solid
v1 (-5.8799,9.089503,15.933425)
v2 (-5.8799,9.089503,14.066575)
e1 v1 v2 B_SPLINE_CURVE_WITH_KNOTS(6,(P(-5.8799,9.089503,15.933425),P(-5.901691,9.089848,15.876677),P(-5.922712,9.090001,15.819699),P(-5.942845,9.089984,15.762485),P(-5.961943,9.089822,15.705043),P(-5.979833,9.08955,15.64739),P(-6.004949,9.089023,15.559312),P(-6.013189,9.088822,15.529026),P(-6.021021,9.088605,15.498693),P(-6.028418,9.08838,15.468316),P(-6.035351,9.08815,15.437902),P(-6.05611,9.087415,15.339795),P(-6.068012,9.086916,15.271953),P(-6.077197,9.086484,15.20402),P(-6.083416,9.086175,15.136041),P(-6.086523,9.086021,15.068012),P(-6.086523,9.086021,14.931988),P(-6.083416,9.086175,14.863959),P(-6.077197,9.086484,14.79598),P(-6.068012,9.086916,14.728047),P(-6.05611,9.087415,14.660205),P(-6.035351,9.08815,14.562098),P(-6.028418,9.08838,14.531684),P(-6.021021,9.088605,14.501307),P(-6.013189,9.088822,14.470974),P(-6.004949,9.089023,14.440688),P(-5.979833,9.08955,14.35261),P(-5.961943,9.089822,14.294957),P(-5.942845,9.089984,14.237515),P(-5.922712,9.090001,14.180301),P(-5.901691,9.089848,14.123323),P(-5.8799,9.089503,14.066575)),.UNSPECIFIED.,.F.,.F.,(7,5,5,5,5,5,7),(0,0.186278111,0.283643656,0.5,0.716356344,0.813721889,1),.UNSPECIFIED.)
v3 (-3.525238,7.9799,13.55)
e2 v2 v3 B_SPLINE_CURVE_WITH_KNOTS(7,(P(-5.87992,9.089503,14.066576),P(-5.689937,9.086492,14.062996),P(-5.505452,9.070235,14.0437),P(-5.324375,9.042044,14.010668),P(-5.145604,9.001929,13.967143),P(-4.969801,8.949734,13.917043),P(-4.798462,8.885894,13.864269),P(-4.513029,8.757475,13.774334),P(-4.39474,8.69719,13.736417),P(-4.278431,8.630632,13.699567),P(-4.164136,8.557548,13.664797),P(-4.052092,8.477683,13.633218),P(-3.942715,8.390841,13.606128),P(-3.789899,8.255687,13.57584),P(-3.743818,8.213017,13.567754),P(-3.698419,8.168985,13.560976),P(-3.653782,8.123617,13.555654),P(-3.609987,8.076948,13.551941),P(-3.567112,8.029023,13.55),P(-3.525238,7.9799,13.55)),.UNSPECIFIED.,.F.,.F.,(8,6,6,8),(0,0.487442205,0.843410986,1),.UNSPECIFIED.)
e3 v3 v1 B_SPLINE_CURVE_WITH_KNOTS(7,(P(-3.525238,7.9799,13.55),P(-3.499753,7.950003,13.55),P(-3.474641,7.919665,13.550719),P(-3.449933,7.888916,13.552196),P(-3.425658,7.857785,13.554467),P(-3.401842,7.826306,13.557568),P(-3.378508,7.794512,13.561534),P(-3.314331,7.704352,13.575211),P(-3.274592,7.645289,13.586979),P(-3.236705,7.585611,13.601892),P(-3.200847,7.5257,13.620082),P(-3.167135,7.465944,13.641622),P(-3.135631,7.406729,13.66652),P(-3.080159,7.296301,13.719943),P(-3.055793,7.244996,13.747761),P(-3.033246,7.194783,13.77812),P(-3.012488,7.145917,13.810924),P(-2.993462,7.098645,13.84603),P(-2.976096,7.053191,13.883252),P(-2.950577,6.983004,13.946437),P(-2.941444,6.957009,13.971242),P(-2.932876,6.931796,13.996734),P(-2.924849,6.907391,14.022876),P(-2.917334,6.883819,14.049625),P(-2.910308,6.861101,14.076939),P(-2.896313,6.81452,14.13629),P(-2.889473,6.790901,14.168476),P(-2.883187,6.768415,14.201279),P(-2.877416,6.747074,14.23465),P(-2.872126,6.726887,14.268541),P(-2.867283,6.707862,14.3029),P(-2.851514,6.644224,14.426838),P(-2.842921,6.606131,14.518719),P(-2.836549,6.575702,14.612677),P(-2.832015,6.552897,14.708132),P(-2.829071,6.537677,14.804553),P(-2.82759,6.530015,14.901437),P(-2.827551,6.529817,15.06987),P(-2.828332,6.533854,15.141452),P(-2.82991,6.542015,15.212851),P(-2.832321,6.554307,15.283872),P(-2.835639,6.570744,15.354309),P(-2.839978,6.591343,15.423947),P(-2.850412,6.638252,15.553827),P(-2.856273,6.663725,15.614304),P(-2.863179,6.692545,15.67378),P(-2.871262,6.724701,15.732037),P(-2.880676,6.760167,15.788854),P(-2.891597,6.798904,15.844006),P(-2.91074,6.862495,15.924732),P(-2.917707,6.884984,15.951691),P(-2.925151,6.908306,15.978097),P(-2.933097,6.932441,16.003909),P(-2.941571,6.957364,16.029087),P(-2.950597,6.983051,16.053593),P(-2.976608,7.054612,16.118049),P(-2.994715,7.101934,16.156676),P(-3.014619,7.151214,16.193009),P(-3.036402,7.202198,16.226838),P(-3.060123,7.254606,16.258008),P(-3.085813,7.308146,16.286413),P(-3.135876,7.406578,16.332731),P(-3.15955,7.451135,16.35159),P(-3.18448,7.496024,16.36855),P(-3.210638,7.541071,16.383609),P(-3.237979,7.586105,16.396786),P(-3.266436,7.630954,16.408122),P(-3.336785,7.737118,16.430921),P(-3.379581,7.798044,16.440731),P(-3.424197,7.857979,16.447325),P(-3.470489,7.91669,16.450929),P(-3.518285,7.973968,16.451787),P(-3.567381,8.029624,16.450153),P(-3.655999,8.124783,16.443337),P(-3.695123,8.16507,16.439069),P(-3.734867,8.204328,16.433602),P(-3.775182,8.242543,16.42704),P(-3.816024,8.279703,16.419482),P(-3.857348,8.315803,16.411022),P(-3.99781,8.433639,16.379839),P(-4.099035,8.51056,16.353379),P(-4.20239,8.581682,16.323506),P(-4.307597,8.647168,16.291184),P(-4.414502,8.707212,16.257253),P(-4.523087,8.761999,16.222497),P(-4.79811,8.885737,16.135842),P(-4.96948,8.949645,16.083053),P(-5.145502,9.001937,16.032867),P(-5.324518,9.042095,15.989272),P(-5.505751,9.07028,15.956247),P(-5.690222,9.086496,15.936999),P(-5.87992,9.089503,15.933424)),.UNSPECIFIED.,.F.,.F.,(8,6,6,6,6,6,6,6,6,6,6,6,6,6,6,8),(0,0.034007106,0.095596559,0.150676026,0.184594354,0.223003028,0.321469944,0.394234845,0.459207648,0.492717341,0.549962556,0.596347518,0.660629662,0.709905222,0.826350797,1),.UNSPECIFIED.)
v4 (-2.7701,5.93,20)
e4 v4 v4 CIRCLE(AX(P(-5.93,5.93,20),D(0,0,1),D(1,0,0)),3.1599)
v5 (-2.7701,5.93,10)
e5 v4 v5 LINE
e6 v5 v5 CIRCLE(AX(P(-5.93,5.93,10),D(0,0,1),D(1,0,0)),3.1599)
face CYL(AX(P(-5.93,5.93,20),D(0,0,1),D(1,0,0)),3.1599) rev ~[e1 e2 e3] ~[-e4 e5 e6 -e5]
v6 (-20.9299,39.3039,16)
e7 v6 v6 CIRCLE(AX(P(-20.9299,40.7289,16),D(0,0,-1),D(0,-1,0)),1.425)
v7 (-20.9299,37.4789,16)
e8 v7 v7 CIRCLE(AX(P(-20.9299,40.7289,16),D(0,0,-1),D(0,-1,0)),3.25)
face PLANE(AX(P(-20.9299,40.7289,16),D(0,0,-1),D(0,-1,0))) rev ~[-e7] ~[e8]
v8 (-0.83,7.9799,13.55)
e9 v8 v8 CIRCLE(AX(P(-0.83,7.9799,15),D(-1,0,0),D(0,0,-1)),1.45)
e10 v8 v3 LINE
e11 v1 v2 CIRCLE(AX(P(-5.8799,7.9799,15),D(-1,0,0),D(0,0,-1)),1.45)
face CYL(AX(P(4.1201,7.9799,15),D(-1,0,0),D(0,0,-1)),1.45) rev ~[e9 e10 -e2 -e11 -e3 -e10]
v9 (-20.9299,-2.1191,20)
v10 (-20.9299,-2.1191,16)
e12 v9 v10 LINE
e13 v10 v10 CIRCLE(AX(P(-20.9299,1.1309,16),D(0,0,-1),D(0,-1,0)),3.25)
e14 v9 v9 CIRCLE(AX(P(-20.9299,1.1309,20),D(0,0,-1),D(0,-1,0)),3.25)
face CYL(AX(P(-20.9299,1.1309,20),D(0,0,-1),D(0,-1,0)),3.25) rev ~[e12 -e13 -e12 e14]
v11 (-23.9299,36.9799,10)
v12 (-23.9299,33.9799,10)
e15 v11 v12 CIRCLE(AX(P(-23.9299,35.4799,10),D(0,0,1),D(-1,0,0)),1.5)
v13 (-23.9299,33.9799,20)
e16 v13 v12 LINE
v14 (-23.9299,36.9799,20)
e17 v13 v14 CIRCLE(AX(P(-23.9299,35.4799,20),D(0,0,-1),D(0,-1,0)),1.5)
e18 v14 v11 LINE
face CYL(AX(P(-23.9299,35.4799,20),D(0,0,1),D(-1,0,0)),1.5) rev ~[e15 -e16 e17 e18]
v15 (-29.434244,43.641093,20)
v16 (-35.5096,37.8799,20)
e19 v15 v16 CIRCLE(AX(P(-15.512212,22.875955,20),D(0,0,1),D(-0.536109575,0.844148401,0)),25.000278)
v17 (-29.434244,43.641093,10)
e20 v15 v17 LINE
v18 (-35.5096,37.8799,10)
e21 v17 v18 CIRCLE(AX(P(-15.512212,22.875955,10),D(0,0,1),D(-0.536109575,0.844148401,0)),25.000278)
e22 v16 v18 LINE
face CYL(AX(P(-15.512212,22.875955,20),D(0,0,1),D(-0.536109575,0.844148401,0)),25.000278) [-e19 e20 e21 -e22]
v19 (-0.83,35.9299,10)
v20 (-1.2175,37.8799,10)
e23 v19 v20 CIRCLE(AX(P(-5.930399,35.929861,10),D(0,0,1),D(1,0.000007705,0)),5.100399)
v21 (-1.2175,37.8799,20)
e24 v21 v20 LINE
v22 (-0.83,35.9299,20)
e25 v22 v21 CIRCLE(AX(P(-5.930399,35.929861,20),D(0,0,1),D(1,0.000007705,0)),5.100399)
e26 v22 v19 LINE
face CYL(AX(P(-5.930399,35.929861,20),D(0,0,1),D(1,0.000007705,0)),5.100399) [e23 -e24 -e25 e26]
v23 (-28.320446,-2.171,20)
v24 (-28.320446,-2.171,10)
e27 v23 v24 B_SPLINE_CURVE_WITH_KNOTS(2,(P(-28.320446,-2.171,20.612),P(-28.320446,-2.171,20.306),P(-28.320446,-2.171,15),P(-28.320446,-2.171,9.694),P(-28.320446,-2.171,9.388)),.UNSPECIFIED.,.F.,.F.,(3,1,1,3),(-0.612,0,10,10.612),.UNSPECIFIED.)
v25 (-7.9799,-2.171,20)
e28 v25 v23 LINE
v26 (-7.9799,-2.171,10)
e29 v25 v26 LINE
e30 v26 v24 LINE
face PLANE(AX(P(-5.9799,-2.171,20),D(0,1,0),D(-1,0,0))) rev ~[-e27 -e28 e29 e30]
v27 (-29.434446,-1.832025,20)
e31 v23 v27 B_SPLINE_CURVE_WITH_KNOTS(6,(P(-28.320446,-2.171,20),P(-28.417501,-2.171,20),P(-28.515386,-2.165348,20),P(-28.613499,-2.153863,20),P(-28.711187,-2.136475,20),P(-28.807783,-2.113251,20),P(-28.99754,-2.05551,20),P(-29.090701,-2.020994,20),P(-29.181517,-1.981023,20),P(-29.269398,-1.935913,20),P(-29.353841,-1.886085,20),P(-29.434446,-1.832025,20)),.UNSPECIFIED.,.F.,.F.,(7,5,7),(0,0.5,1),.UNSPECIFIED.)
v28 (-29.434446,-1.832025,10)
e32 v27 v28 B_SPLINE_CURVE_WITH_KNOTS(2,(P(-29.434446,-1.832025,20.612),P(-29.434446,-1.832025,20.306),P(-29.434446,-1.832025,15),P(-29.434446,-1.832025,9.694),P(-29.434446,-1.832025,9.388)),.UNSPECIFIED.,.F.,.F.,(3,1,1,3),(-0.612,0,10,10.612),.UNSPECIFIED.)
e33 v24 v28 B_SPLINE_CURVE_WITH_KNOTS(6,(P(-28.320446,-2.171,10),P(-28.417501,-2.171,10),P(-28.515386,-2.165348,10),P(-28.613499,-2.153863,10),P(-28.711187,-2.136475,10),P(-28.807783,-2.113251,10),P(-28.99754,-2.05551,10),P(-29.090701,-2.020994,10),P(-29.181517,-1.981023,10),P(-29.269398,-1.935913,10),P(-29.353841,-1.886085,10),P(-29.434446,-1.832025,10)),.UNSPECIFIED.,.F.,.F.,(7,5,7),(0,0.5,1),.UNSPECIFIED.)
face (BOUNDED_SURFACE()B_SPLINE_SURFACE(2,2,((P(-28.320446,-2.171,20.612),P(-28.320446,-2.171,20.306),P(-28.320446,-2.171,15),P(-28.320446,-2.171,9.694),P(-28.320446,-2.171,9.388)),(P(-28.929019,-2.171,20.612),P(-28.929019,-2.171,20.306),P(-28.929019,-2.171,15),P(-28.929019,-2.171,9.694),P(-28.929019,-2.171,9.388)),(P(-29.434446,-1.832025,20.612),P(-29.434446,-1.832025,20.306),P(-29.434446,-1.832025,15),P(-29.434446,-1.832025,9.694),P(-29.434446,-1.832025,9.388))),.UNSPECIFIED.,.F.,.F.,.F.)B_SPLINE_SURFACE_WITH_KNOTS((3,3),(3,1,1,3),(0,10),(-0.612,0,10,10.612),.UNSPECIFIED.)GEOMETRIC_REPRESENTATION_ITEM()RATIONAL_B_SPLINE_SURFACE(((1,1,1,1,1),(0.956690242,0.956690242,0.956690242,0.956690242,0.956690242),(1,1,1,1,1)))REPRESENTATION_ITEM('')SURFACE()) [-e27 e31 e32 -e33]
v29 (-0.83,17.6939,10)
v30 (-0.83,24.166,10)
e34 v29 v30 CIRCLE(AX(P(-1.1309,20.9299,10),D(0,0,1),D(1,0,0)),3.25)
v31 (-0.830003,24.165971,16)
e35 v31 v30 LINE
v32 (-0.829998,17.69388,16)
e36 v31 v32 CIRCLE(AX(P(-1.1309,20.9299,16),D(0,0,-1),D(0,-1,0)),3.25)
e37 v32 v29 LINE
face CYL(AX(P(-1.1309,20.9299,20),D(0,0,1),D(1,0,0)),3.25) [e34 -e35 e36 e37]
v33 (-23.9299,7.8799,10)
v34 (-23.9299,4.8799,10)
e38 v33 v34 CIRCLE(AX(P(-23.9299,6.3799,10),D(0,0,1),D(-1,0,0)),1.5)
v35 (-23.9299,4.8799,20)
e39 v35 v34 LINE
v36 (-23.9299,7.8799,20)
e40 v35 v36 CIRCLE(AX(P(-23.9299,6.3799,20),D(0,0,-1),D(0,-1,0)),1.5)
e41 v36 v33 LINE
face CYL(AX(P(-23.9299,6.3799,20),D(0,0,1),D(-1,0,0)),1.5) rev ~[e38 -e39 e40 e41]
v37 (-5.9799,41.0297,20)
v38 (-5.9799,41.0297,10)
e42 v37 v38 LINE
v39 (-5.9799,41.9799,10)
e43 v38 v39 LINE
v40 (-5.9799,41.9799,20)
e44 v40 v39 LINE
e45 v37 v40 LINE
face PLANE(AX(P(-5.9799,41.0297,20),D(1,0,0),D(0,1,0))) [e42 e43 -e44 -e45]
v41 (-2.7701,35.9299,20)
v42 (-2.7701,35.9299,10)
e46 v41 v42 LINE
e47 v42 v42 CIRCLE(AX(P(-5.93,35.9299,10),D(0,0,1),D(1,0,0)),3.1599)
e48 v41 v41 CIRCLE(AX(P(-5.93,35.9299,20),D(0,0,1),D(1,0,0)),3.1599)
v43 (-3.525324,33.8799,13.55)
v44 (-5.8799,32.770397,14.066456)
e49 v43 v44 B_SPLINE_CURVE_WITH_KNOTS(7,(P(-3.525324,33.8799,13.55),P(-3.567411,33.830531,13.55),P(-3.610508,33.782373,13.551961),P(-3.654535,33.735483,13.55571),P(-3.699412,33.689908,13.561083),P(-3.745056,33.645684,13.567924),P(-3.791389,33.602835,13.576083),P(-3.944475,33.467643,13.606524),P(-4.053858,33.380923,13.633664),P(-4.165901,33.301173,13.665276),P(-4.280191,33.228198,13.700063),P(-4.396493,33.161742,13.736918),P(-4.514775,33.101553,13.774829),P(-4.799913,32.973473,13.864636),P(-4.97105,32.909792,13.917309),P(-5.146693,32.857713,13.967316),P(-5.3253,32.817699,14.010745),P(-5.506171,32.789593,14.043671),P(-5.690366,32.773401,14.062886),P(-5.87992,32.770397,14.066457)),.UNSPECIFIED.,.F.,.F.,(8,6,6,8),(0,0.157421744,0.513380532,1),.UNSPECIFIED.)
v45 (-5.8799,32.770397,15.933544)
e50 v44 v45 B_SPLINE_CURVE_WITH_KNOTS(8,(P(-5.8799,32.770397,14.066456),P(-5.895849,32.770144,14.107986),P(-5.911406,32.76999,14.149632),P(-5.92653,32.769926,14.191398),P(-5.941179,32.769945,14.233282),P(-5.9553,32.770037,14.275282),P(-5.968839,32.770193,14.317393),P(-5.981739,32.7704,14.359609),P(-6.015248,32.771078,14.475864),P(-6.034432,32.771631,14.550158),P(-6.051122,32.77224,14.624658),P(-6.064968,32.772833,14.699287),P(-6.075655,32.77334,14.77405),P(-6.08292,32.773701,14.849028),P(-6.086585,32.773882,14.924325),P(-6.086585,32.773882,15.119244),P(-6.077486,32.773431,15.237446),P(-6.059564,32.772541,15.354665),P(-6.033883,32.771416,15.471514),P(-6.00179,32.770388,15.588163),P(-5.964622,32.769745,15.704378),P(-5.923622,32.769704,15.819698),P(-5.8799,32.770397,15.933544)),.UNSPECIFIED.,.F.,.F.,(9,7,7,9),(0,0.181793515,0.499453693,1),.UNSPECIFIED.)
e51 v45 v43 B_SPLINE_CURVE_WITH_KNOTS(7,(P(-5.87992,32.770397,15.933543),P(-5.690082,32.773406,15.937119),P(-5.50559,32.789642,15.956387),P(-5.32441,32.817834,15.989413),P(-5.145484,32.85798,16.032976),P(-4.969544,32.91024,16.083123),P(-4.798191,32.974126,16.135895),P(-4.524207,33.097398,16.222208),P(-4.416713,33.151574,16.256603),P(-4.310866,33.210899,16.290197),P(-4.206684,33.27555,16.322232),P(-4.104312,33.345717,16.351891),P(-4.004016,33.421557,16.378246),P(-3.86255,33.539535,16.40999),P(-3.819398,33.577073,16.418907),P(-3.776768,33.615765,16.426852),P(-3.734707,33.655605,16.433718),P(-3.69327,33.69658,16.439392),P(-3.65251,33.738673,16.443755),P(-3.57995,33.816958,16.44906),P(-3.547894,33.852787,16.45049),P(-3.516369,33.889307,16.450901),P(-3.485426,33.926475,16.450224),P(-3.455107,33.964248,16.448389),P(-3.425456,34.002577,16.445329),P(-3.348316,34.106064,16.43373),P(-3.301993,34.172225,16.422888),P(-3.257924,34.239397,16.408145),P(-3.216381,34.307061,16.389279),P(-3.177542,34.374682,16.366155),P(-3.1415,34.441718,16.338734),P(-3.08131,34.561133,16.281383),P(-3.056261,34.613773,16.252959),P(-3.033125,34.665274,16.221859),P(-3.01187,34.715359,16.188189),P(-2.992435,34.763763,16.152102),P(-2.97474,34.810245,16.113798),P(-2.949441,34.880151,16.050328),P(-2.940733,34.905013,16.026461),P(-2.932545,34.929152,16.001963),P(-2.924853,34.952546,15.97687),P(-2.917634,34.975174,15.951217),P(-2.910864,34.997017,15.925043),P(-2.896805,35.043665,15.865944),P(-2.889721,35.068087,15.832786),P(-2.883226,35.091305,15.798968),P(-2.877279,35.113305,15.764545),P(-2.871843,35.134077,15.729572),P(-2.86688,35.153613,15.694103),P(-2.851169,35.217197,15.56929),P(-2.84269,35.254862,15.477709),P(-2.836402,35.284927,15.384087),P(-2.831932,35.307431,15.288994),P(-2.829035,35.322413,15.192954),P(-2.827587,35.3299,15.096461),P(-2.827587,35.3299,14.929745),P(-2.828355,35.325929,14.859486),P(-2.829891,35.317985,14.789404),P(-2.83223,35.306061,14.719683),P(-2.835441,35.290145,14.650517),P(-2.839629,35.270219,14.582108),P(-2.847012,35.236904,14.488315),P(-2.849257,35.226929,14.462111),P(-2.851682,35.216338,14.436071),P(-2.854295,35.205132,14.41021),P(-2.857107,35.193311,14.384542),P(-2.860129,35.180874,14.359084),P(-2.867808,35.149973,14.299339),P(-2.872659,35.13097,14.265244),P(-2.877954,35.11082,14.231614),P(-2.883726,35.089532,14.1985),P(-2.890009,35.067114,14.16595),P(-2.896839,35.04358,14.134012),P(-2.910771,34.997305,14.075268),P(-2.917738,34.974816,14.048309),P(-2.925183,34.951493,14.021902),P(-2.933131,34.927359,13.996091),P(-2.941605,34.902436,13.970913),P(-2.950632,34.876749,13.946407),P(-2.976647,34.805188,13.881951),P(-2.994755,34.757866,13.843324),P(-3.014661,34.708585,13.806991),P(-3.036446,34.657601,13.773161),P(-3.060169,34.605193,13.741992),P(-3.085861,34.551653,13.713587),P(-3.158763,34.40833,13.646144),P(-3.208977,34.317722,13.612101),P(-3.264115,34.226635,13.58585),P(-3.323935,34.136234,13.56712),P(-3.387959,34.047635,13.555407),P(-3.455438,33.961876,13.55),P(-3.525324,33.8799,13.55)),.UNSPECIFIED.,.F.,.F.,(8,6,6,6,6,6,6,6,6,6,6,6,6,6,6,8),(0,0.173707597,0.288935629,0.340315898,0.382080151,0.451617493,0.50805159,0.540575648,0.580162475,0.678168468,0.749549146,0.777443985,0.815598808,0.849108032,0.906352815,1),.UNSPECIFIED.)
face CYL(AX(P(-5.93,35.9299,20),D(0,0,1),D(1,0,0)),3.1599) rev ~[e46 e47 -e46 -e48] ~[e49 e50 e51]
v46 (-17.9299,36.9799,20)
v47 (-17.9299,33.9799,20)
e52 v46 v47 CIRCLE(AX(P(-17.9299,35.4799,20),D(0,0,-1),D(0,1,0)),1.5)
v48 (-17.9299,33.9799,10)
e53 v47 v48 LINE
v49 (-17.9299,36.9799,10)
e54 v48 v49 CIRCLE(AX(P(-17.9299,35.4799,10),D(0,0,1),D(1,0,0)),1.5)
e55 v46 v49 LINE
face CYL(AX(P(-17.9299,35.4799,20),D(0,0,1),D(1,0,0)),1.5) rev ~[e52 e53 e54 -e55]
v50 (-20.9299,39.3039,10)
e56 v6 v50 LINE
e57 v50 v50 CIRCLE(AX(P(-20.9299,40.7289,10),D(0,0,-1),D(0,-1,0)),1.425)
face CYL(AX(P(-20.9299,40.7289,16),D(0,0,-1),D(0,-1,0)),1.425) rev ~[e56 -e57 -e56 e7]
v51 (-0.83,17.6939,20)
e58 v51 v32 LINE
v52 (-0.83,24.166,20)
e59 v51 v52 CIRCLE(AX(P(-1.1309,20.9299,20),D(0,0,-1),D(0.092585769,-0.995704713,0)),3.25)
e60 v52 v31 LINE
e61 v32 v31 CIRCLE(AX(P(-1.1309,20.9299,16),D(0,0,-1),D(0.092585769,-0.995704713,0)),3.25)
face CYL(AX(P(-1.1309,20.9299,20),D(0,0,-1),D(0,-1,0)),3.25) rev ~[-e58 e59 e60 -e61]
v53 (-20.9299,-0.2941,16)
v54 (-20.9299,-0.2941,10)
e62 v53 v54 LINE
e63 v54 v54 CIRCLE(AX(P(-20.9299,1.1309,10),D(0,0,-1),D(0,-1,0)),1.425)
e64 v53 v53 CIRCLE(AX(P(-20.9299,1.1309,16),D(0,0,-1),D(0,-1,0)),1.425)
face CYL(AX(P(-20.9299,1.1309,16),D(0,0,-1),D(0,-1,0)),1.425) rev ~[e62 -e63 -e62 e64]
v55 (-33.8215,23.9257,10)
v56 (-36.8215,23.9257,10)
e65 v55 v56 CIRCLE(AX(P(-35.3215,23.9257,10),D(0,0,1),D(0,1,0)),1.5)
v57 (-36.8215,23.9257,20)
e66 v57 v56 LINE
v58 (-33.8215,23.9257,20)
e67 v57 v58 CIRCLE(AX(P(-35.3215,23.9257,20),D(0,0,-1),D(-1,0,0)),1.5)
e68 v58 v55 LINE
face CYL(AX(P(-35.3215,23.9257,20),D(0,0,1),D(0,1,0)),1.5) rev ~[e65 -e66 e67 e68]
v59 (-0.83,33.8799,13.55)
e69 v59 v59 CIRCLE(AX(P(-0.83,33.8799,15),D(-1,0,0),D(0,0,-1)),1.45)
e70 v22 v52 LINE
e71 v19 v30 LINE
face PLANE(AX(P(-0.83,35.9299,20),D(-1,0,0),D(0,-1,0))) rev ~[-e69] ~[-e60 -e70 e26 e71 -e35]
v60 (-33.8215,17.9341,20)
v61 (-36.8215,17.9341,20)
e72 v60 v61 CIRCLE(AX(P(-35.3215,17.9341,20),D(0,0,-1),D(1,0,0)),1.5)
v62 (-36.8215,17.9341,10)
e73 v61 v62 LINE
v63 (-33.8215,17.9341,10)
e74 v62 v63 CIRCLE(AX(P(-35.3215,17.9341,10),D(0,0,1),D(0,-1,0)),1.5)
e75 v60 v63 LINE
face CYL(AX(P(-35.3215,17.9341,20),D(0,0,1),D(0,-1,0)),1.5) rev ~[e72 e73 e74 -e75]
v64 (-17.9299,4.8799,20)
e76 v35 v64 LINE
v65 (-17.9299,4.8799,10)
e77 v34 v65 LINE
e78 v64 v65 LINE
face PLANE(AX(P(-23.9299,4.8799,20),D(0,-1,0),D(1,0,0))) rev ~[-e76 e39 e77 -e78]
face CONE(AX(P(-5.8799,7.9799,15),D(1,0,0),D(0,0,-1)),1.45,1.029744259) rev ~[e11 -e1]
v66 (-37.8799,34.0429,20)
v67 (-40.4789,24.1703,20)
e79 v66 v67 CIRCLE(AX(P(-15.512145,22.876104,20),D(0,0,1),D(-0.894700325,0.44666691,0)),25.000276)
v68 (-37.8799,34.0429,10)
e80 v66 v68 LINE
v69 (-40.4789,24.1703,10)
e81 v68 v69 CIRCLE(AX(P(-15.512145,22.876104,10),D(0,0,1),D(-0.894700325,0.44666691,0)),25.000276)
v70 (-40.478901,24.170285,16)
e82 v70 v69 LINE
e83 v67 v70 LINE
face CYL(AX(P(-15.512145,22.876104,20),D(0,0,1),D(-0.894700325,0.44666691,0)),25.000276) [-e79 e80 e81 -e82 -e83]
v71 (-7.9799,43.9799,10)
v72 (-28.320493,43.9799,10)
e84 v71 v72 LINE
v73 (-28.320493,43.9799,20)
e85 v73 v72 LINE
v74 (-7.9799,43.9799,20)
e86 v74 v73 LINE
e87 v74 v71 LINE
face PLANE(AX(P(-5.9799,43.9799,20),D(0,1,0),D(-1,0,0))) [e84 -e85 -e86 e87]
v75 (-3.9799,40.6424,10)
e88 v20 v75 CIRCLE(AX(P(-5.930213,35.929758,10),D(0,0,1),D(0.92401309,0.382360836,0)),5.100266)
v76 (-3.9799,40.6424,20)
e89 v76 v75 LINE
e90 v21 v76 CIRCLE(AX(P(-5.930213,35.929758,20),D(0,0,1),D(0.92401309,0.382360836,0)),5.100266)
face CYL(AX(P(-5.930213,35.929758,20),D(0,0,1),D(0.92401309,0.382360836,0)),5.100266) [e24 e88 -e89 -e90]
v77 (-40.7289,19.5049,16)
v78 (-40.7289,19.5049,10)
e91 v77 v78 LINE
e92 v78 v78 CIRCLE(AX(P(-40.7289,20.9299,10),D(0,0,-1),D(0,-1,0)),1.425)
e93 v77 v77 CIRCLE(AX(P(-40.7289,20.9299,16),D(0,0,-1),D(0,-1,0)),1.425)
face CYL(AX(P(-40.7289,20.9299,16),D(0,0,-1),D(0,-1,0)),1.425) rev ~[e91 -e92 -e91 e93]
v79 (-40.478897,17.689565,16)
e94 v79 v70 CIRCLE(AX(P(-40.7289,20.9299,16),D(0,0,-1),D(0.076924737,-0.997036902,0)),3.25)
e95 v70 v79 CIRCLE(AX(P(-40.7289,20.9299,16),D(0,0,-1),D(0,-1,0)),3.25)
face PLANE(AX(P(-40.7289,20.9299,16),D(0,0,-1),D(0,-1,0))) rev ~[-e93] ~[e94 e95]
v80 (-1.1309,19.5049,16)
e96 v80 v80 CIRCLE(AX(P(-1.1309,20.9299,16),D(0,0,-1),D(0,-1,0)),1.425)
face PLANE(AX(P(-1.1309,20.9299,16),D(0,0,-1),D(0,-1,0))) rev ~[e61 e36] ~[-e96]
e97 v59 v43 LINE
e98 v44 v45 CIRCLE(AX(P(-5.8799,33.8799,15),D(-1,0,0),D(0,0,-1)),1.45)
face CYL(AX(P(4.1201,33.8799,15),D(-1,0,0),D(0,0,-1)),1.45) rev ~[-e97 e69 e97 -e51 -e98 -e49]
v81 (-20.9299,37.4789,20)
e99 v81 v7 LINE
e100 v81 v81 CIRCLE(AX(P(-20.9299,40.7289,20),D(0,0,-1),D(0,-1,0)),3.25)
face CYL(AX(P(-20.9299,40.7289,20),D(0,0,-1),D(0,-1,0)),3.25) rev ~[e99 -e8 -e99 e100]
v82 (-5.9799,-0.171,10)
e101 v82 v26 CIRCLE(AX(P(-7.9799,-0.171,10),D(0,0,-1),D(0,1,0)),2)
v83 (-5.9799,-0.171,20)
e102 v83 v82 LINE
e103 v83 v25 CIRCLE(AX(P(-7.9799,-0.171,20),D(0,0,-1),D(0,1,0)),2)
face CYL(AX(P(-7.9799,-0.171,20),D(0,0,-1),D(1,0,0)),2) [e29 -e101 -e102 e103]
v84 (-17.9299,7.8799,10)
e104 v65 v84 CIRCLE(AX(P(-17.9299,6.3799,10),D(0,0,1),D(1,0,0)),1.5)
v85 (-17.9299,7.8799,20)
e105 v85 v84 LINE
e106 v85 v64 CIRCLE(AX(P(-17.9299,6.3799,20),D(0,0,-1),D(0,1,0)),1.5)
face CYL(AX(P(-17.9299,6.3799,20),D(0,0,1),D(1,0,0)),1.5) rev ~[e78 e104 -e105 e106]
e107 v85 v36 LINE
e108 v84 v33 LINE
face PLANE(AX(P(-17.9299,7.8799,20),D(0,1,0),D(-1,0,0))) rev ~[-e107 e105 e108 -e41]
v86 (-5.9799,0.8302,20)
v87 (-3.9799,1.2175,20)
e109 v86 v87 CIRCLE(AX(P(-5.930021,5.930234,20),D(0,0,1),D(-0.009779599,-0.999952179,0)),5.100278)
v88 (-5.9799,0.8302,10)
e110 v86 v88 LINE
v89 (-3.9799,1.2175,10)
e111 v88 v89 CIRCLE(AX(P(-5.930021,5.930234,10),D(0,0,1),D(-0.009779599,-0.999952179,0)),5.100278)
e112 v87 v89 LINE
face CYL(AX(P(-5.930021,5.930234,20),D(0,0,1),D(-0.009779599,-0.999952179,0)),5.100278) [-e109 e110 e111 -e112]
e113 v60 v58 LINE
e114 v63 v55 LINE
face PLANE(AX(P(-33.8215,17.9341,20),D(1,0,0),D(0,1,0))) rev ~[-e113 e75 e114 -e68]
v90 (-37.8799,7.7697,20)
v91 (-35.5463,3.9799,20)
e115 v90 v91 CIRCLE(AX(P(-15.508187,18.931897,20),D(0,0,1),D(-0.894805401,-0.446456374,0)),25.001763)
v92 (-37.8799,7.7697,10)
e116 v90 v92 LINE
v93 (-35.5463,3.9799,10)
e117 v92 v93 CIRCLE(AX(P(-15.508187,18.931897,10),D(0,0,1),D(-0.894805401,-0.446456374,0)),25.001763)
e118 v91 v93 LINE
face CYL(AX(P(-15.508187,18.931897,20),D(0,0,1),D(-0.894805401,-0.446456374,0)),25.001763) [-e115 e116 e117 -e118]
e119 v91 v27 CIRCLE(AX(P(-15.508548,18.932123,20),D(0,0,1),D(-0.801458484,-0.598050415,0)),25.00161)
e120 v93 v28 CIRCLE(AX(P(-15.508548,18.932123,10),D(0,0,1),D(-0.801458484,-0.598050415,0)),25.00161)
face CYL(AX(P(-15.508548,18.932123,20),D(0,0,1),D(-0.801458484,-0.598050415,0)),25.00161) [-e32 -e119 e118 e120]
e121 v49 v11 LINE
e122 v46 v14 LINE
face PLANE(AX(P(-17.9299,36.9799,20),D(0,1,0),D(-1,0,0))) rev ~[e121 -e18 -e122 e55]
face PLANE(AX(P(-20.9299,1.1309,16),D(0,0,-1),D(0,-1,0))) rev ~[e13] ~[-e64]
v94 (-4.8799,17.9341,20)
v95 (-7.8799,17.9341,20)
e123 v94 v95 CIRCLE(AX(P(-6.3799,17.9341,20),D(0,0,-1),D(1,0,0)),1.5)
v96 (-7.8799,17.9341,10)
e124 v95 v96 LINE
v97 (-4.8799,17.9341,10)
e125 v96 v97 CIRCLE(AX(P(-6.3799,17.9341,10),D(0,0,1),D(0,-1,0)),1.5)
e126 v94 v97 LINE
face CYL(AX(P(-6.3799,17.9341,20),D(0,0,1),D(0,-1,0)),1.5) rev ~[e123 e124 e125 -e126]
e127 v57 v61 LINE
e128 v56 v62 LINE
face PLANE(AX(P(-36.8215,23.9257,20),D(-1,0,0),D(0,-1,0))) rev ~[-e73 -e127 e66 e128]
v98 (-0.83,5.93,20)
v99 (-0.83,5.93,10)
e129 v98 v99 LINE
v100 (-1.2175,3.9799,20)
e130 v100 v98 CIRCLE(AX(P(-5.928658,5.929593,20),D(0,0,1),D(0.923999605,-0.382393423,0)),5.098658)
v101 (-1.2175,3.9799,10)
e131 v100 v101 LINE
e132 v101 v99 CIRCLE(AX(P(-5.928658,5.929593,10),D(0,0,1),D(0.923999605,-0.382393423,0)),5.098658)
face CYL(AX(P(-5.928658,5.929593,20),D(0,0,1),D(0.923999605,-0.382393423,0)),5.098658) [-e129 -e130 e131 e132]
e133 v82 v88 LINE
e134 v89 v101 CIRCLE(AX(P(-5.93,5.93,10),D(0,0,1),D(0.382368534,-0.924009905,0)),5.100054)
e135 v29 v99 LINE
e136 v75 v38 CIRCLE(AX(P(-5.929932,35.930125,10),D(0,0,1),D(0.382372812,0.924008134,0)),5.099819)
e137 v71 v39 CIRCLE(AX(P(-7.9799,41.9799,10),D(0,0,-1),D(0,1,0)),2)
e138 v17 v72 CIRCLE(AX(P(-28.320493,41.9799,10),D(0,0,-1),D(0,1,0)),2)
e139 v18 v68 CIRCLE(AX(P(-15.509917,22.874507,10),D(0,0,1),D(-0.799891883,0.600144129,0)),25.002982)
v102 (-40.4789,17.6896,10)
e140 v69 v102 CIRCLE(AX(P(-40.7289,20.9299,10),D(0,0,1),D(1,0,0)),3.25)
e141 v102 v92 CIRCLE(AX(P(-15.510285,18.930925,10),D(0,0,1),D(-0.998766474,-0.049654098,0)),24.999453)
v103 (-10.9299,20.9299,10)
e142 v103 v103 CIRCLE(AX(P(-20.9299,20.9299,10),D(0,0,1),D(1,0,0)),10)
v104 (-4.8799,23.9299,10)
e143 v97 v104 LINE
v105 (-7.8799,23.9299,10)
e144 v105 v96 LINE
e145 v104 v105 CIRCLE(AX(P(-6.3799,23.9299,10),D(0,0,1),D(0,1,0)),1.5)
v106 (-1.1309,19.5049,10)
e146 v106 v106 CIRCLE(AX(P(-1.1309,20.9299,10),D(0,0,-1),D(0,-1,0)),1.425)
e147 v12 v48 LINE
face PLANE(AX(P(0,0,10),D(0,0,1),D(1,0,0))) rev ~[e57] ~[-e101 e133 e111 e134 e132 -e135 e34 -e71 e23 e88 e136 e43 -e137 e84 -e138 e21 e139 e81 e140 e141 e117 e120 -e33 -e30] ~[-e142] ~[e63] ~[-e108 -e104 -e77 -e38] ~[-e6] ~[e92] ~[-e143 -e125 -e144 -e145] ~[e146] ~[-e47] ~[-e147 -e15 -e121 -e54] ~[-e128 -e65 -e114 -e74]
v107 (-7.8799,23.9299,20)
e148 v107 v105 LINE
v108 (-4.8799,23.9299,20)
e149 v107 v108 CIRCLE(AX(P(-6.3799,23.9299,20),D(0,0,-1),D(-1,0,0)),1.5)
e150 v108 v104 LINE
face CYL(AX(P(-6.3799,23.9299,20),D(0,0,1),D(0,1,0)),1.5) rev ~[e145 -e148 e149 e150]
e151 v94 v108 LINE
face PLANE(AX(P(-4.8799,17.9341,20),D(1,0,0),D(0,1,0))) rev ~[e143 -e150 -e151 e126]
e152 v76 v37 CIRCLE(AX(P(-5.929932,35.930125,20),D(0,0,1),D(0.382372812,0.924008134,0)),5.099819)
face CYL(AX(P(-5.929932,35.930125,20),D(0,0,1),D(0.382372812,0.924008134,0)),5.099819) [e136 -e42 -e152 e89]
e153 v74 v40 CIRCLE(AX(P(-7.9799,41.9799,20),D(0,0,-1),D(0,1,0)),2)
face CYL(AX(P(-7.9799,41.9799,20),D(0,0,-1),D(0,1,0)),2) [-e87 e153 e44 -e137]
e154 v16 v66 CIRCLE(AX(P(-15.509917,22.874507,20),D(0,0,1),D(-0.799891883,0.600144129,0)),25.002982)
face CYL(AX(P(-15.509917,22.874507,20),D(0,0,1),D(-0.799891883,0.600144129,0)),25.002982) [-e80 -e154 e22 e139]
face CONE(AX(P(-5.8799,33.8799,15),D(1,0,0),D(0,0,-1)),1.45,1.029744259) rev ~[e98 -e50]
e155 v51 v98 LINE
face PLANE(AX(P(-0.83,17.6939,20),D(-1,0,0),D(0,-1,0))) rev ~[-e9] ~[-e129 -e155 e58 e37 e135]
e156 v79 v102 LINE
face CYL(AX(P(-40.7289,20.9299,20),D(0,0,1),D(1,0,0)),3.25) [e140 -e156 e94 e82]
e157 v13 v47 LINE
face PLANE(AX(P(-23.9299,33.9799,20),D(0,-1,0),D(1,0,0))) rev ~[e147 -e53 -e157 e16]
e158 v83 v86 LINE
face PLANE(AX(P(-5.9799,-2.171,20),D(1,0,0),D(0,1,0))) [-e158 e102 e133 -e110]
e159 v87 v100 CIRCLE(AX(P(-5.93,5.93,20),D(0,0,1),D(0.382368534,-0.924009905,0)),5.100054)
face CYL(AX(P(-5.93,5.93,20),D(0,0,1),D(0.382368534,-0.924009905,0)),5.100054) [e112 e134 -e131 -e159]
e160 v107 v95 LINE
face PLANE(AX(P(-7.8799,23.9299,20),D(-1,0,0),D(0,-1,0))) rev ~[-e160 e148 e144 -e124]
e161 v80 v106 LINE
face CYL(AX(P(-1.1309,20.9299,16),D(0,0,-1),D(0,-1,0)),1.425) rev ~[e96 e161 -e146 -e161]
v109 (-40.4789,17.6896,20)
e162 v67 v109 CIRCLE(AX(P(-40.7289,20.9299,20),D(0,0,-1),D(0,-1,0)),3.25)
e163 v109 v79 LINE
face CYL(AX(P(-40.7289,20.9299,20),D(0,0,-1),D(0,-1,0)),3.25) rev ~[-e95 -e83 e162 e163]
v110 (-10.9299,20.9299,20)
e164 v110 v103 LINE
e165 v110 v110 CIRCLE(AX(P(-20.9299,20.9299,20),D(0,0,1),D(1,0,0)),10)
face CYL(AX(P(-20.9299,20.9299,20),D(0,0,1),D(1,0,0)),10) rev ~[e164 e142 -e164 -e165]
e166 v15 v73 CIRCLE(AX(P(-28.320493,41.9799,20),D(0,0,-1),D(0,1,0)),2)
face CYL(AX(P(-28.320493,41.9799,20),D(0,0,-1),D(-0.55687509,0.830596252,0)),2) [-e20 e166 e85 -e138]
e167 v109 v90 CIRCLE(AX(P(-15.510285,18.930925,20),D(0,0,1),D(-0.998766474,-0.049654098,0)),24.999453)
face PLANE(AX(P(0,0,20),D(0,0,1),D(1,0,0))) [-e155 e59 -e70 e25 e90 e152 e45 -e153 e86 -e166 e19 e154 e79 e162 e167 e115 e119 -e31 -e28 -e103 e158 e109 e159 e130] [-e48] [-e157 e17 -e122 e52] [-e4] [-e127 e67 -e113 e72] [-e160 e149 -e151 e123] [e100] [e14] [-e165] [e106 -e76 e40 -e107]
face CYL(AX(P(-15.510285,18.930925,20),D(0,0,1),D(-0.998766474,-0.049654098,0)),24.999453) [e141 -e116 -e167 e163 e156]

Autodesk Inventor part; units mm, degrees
ref_plane "YZ Plane" through (0, 0, 0) normal (1, 0, 0) x (0, 1, 0)
ref_plane "Work Plane1" through (0, 0, 10) normal (0, 0, 1) x (1, 0, 0)
sketch "Sketch1" plane through (0, 0, 10) normal (0, 0, 1) x (1, 0, 0)
  line L0 (-4.0299, -0.3538) -> (-2.2322, 1.4439) construction
  arc A0 (-1.4439, 2.2322) -> (-2.2322, 1.4439) centre (-0.9299, 0.9299) ccw construction
  line L1 (-1.4439, 2.2322) -> (0.3538, 4.0299) construction
  line L2 (-37.8299, 42.8299) -> (-37.8299, 37.8299) construction
  line L3 (-37.8299, 37.8299) -> (-42.9208, 37.8299) construction
  line L4 (-37.8299, 42.2137) -> (-37.8299, 45.8299) construction
  line L5 (-37.8299, 45.8299) -> (-4.0299, 45.8299) construction
  line L6 (-4.0299, 45.8299) -> (-4.0299, 42.2137) construction
  line L7 (-4.0299, 4.0299) -> (0.3538, 4.0299) projected
  circle A1 centre (-20.9299, 20.9299) radius 17.5 projected
  line L8 (-20.9299, 58.9723) -> (17.1124, 20.9299) construction
  line L9 (17.1124, 20.9299) -> (-20.9299, -17.1124) construction
  line L10 (-20.9299, -17.1124) -> (-58.9723, 20.9299) construction
  line L11 (-58.9723, 20.9299) -> (-20.9299, 58.9723) construction
  line L12 (-20.9299, 58.9723) -> (-20.9299, -17.1124) construction
  line L13 (17.1124, 20.9299) -> (-58.9723, 20.9299) construction
  line L14 (-20.9299, 58.9723) -> (32.8701, 58.9723) construction
  line L15 (-43.4299, 43.4299) -> (1.5701, 43.4299) construction
  line L16 (1.5701, 43.4299) -> (1.5701, -1.5701) construction
  line L17 (1.5701, -1.5701) -> (-43.4299, -1.5701) construction
  line L18 (-43.4299, -1.5701) -> (-43.4299, 43.4299) construction
  line L19 (-43.4299, 43.4299) -> (1.5701, -1.5701) construction
  line L20 (1.5701, 43.4299) -> (-43.4299, -1.5701) construction
  line L21 (-43.4299, 5.3876) -> (-43.4299, 36.4723)
  line L22 (-43.4299, 36.4723) -> (-36.4723, 43.4299)
  line L23 (-36.4723, 43.4299) -> (-5.3876, 43.4299)
  line L24 (-5.3876, 43.4299) -> (1.5701, 36.4723)
  line L25 (1.5701, 36.4723) -> (1.5701, 5.3876)
  line L26 (1.5701, 5.3876) -> (-5.3876, -1.5701)
  line L27 (-5.3876, -1.5701) -> (-36.4723, -1.5701)
  line L28 (-36.4723, -1.5701) -> (-43.4299, 5.3876)
  line L29 (-4.0299, 42.2137) -> (-37.8299, 42.2137) projected
  line L30 (-4.0299, -0.3538) -> (-4.0299, 4.0299) projected
  point P0 (-37.8299, 4.0299)
  point P1 (-20.9299, 20.9299)
  dimension "d18" = 53.8
  dimension "d19" = 45
  dimension "d20" = 53.8
  dimension "d21" = 45
  dimension "d22" = 45
extrude "Extrusion1" add sketch "Sketch1" along normal blind 10 contours L30 L26 L27 L28 L21 L22 L29 L24 L25 L7 | L7 L26 L30 | L29 L22 L23 L24 | A1
ref_plane "Work Plane2" through (-40.9959, 0.8639, 22.2359) normal (0, 0, 1) x (1, 0, 0)
sketch "Sketch3" plane through (0, 0, 10) normal (0, 0, -1) x (-1, 0, 0)
  line L0 (37.8299, -0.4701) -> (37.8299, 4.0299) construction
  line L1 (4.0299, 4.0299) -> (4.0299, -0.4701) construction
  line L2 (37.8299, -0.4701) -> (37.8299, 1.1886) construction
  line L3 (4.0299, -3.9701) -> (4.0299, -0.3538) construction
  line L4 (45.8299, 4.0299) -> (42.2137, 4.0299) construction
  line L5 (-0.3538, 4.0299) -> (-3.9701, 4.0299) construction
  line L6 (-3.9701, 37.8299) -> (-0.3538, 37.8299) construction
  line L7 (4.0299, 42.2137) -> (4.0299, 45.8299) construction
  line L8 (37.8299, 45.8299) -> (37.8299, 42.2137) construction
  line L9 (42.2137, 37.8299) -> (45.8299, 37.8299) construction
  line L10 (40.4657, 37.7299) -> (45.8299, 37.7299)
  line L11 (45.8299, 37.7299) -> (45.8299, 4.1299)
  line L12 (45.8299, 4.1299) -> (40.4657, 4.1299)
  line L13 (40.4657, 4.1299) -> (40.4657, 37.7299)
  line L14 (37.7299, 2.4952) -> (4.1299, 2.4952)
  line L15 (4.1299, 2.4952) -> (4.1299, -3.9701)
  line L16 (4.1299, -3.9701) -> (37.7299, -3.9701)
  line L17 (37.7299, -3.9701) -> (37.7299, 2.4952)
  line L18 (1.8946, 4.1299) -> (-3.9701, 4.1299)
  line L19 (-3.9701, 4.1299) -> (-3.9701, 37.7299)
  line L20 (-3.9701, 37.7299) -> (1.8946, 37.7299)
  line L21 (1.8946, 37.7299) -> (1.8946, 4.1299)
  line L22 (4.1299, 40.7326) -> (37.7299, 40.7326)
  line L23 (37.7299, 40.7326) -> (37.7299, 45.8299)
  line L24 (37.7299, 45.8299) -> (4.1299, 45.8299)
  line L25 (4.1299, 45.8299) -> (4.1299, 40.7326)
  point P0 (0, 0)
  dimension "d23" = 0.1
  dimension "d24" = 0.1
  dimension "d25" = 0.1
  dimension "d26" = 0.1
  dimension "d27" = 0.1
extrude "Extrusion3" add sketch "Sketch3" against normal up to surface (10 mm away)
sketch "Sketch4" plane through (0, 0, 20) normal (0, 0, 1) x (1, 0, 0)
  line L0 (3.9701, 4.1299) -> (0.3124, 4.1299) projected
  line L1 (3.9701, 37.7299) -> (3.9701, 4.1299) projected
  line L2 (0.3124, 37.7299) -> (3.9701, 37.7299) projected
  line L3 (0.3124, 37.7299) -> (-4.1299, 42.1723) projected
  line L4 (-4.1299, 45.8299) -> (-4.1299, 42.1723) projected
  line L5 (-37.7299, 45.8299) -> (-4.1299, 45.8299) projected
  line L6 (-37.7299, 42.1723) -> (-37.7299, 45.8299) projected
  line L7 (-37.7299, 42.1723) -> (-42.1723, 37.7299) projected
  line L8 (-45.8299, 37.7299) -> (-42.1723, 37.7299) projected
  line L9 (-45.8299, 4.1299) -> (-45.8299, 37.7299) projected
  line L10 (-42.1723, 4.1299) -> (-45.8299, 4.1299) projected
  line L11 (-42.1723, 4.1299) -> (-37.7299, -0.3124) projected
  line L12 (-37.7299, -3.9701) -> (-37.7299, -0.3124) projected
  line L13 (-4.1299, -3.9701) -> (-37.7299, -3.9701) projected
  line L14 (-4.1299, -0.3124) -> (-4.1299, -3.9701) projected
  line L15 (-4.1299, -0.3124) -> (0.3124, 4.1299) projected
  line L16 (-3.9799, 45.9799) -> (-3.9799, 42.2344)
  line L17 (-3.9799, 42.2344) -> (0.3745, 37.8799)
  line L18 (0.3745, 37.8799) -> (4.1201, 37.8799)
  line L19 (4.1201, 37.8799) -> (4.1201, 3.9799)
  line L20 (4.1201, 3.9799) -> (0.3745, 3.9799)
  line L21 (0.3745, 3.9799) -> (-3.9799, -0.3745)
  line L22 (-3.9799, -0.3745) -> (-3.9799, -4.1201)
  line L23 (-3.9799, -4.1201) -> (-37.8799, -4.1201)
  line L24 (-37.8799, -4.1201) -> (-37.8799, -0.3745)
  line L25 (-37.8799, -0.3745) -> (-42.2344, 3.9799)
  line L26 (-42.2344, 3.9799) -> (-45.9799, 3.9799)
  line L27 (-45.9799, 3.9799) -> (-45.9799, 37.8799)
  line L28 (-45.9799, 37.8799) -> (-42.2344, 37.8799)
  line L29 (-42.2344, 37.8799) -> (-37.8799, 42.2344)
  line L30 (-37.8799, 42.2344) -> (-37.8799, 45.9799)
  line L31 (-37.8799, 45.9799) -> (-3.9799, 45.9799)
  point P0 (0, 0)
  dimension "d34" = 0.15
extrude "Extrusion4" add sketch "Sketch4" against normal up to surface (10 mm away)
sketch "Sketch8" plane through (0, 0, 20) normal (0, 0, 1) x (1, 0, 0)
  circle A0 centre (-20.9299, 20.9299) radius 10
  line L0 (4.1201, 37.8799) -> (4.1201, 3.9799) projected
  line L1 (-37.8799, 45.9799) -> (-3.9799, 45.9799) projected
  point P0 (0, 0)
  point P1 (4.1201, 20.9299)
  point P2 (-20.9299, 45.9799)
  dimension "d61" = 20
ref_plane "Work Plane3" through (-40.0572, 1.8027, 20) normal (-0.7071, 0.7071, 0) x (0.7071, 0.7071, 0)
sketch "Sketch5" plane through (0, 0, 20) normal (0, 0, 1) x (1, 0, 0)
  circle A0 centre (-20.9299, 20.9299) radius 29.7458 construction
  line L0 (4.1201, 37.8799) -> (4.1201, 3.9799) projected
  line L1 (-37.8799, 45.9799) -> (-3.9799, 45.9799) projected
  line L2 (-34.9299, 6.9299) -> (-6.9299, 6.9299) construction
  line L3 (-6.9299, 6.9299) -> (-6.9299, 34.9299) construction
  line L4 (-6.9299, 34.9299) -> (-34.9299, 34.9299) construction
  line L5 (-34.9299, 34.9299) -> (-34.9299, 6.9299) construction
  line L6 (-34.9299, 6.9299) -> (-6.9299, 34.9299) construction
  line L7 (-6.9299, 6.9299) -> (-34.9299, 34.9299) construction
  line L8 (-40.7289, 20.9299) -> (-20.9299, 40.7289)
  line L9 (-20.9299, 40.7289) -> (-1.1309, 20.9299)
  line L10 (-1.1309, 20.9299) -> (-20.9299, 1.1309)
  line L11 (-20.9299, 1.1309) -> (-40.7289, 20.9299)
  line L12 (-40.7289, 20.9299) -> (-1.1309, 20.9299) construction
  line L13 (-20.9299, 40.7289) -> (-20.9299, 1.1309) construction
  line L14 (-3.9799, -4.1201) -> (-37.8799, -4.1201) construction
  point P0 (0, 0)
  point P1 (4.1201, 20.9299)
  point P2 (-20.9299, 45.9799)
  point P3 (0, 0)
  point P4 (-20.9299, 20.9299)
  point P5 (-20.9299, 20.9299)
  point P6 (-20.9299, 45.9799)
  point P7 (-20.9299, -4.1201)
  point P8 (4.1201, 20.9299)
  dimension "d37" = 28
  dimension "d38" = 28
  dimension "d41" = 28
  dimension "d42" = 28
hole "Hole1" at (-20.9299, 40.7289, 20) at (-1.1309, 20.9299, 20) at (-20.9299, 1.1309, 20) at (-40.7289, 20.9299, 20) direction (0, 0, -1) diameter 2.85 end through all counterbore diameter 6.5 counterbore depth 4
sketch "Sketch6" plane through (0, 0, 20) normal (0, 0, 1) x (1, 0, 0)
  circle A0 centre (-1.1311, 20.9299) radius 3.25
  line L0 (-17.9299, 6.3799) -> (-23.9299, 6.3799) construction
  line L1 (-17.9299, 7.8799) -> (-23.9299, 7.8799)
  line L2 (-23.9299, 4.8799) -> (-17.9299, 4.8799)
  arc A1 (-17.9299, 4.8799) -> (-16.4299, 6.3799) centre (-17.9299, 6.3799) ccw
  arc A2 (-23.9299, 7.8799) -> (-25.4299, 6.3799) centre (-23.9299, 6.3799) ccw
  circle A3 centre (-20.9299, 40.7289) radius 3.25 projected
  line L3 (-3.9799, 45.9799) -> (-3.9799, 42.2344) projected
  line L4 (-37.8799, 45.9799) -> (-3.9799, 45.9799) projected
  line L5 (-37.8799, 42.2344) -> (-37.8799, 45.9799) projected
  line L6 (-42.2344, 37.8799) -> (-37.8799, 42.2344) projected
  line L7 (-45.9799, 37.8799) -> (-42.2344, 37.8799) projected
  line L8 (-45.9799, 3.9799) -> (-45.9799, 37.8799) projected
  line L9 (-42.2344, 3.9799) -> (-45.9799, 3.9799) projected
  line L10 (-37.8799, -0.3745) -> (-42.2344, 3.9799) projected
  line L11 (-37.8799, -4.1201) -> (-37.8799, -0.3745) projected
  line L12 (-3.9799, -4.1201) -> (-37.8799, -4.1201) projected
  line L13 (-3.9799, -0.3745) -> (-3.9799, -4.1201) projected
  line L14 (0.3745, 3.9799) -> (-3.9799, -0.3745) projected
  line L15 (4.1201, 3.9799) -> (0.3745, 3.9799) projected
  line L16 (4.1201, 37.8799) -> (4.1201, 3.9799) projected
  line L17 (0.3745, 37.8799) -> (4.1201, 37.8799) projected
  line L18 (-3.9799, 42.2344) -> (0.3745, 37.8799) projected
  circle A4 centre (-20.9299, 40.7289) radius 3.25 projected
  line L19 (-3.9799, 45.9799) -> (-3.9799, 42.2344) projected
  line L20 (-37.8799, 45.9799) -> (-3.9799, 45.9799) projected
  line L21 (-37.8799, 42.2344) -> (-37.8799, 45.9799) projected
  line L22 (-42.2344, 37.8799) -> (-37.8799, 42.2344) projected
  line L23 (-45.9799, 37.8799) -> (-42.2344, 37.8799) projected
  line L24 (-45.9799, 3.9799) -> (-45.9799, 37.8799) projected
  line L25 (-42.2344, 3.9799) -> (-45.9799, 3.9799) projected
  line L26 (-37.8799, -0.3745) -> (-42.2344, 3.9799) projected
  line L27 (-37.8799, -4.1201) -> (-37.8799, -0.3745) projected
  line L28 (-3.9799, -4.1201) -> (-37.8799, -4.1201) projected
  line L29 (-3.9799, -0.3745) -> (-3.9799, -4.1201) projected
  line L30 (0.3745, 3.9799) -> (-3.9799, -0.3745) projected
  line L31 (4.1201, 3.9799) -> (0.3745, 3.9799) projected
  line L32 (4.1201, 37.8799) -> (4.1201, 3.9799) projected
  line L33 (0.3745, 37.8799) -> (4.1201, 37.8799) projected
  line L34 (-3.9799, 42.2344) -> (0.3745, 37.8799) projected
  line L35 (-23.9299, 33.9799) -> (-17.9299, 33.9799)
  arc A5 (-23.9299, 36.9799) -> (-25.4299, 35.4799) centre (-23.9299, 35.4799) ccw
  arc A6 (-17.9299, 33.9799) -> (-16.4299, 35.4799) centre (-17.9299, 35.4799) ccw
  line L36 (-17.9299, 36.9799) -> (-23.9299, 36.9799)
  line L37 (-17.9299, 35.4799) -> (-23.9299, 35.4799) construction
  arc A7 (-7.8799, 17.9341) -> (-6.3799, 16.4341) centre (-6.3799, 17.9341) ccw
  line L38 (-7.8799, 23.9299) -> (-7.8799, 17.9341)
  line L39 (-6.3799, 17.9341) -> (-6.3799, 22.4299) construction
  line L40 (-4.8799, 17.9341) -> (-4.8799, 23.9299)
  circle A8 centre (-20.9299, 40.7289) radius 3.25
  arc A9 (-4.8799, 23.9299) -> (-6.3799, 25.4299) centre (-6.3799, 23.9299) ccw
  line L41 (-45.9799, 3.9799) -> (-45.9799, 37.8799) projected
  circle A10 centre (-40.7289, 20.9299) radius 3.25 projected
  circle A11 centre (-40.7289, 20.9299) radius 1.425 projected
  line L42 (4.1201, 37.8799) -> (4.1201, 3.9799) projected
  circle A12 centre (-20.9299, 1.1309) radius 3.25 projected
  circle A13 centre (-20.9299, 1.1309) radius 1.425 projected
  line L43 (-37.8799, 45.9799) -> (-3.9799, 45.9799) projected
  line L44 (-3.9799, -4.1201) -> (-37.8799, -4.1201) projected
  arc A14 (-6.3799, 16.4341) -> (-4.8799, 17.9341) centre (-6.3799, 17.9341) ccw
  arc A15 (-6.3799, 25.4299) -> (-7.8799, 23.9299) centre (-6.3799, 23.9299) ccw
  line L45 (-6.3799, 22.4299) -> (-6.3799, 23.9299) construction
  arc A16 (-16.4299, 35.4799) -> (-17.9299, 36.9799) centre (-17.9299, 35.4799) ccw
  arc A17 (-25.4299, 35.4799) -> (-23.9299, 33.9799) centre (-23.9299, 35.4799) ccw
  arc A18 (-16.4299, 6.3799) -> (-17.9299, 7.8799) centre (-17.9299, 6.3799) ccw
  arc A19 (-25.4299, 6.3799) -> (-23.9299, 4.8799) centre (-23.9299, 6.3799) ccw
  circle A20 centre (-40.7289, 20.9299) radius 3.25
  arc A21 (-36.8215, 17.9341) -> (-35.3215, 16.4341) centre (-35.3215, 17.9341) ccw
  line L46 (-36.8215, 23.9257) -> (-36.8215, 17.9341)
  line L47 (-35.3215, 23.9257) -> (-35.3215, 19.4341) construction
  line L48 (-33.8215, 17.9341) -> (-33.8215, 23.9257)
  arc A22 (-33.8215, 23.9257) -> (-35.3215, 25.4257) centre (-35.3215, 23.9257) ccw
  arc A23 (-35.3215, 25.4257) -> (-36.8215, 23.9257) centre (-35.3215, 23.9257) ccw
  arc A24 (-35.3215, 16.4341) -> (-33.8215, 17.9341) centre (-35.3215, 17.9341) ccw
  line L49 (-35.3215, 19.4341) -> (-35.3215, 17.9341) construction
  point P0 (-20.9299, 6.3799)
  point P1 (-20.9299, 20.9299)
  point P2 (-20.9299, 45.9799)
  point P3 (-45.9799, 20.9299)
  point P4 (4.1201, 20.9299)
  point P5 (-40.7289, 40.7289)
  point P6 (-20.9299, 35.4799)
  point P7 (66.7709, 47.2309)
  point P8 (-45.9801, 20.9299)
  point P9 (-1.8027, 1.8027)
  point P10 (-20.9299, 7.8799)
  point P11 (-6.3799, 20.9299)
  point P12 (-20.9299, 45.9802)
  point P13 (-40.0572, 40.0572)
  point P14 (-20.9299, 36.9799)
  point P15 (-1.8027, 40.0572)
  point P16 (-4.8799, 20.932)
  point P17 (-1.8027, 40.0572)
  point P18 (-45.9801, 20.9299)
  point P19 (-40.0573, 1.8027)
  point P20 (-40.0573, 1.8027)
  point P21 (-20.9299, 45.9799)
  point P22 (4.1201, 20.9299)
  point P23 (4.1201, 20.9299)
  point P24 (-20.9299, -4.1201)
  point P25 (-35.4799, 20.9299)
  point P26 (-36.8215, 20.9299)
  dimension "d52" = 3
  dimension "d53" = 3
  dimension "d87" = 3
  dimension "d88" = 3
  dimension "d91" = 3
  dimension "d92" = 3
  dimension "d130" = 10.5
  dimension "d131" = 10.5
  dimension "d132" = 10.5
  dimension "d159" = 3
  dimension "d160" = 3
  dimension "d161" = 10.5
  dimension "d162" = 5.2489
  dimension "d163" = 5.249
extrude "Extrusion5" cut sketch "Sketch6" against normal through all contours A18 A1 L2 A19 A2 L1 | A17 A5 L36 A16 A6 L35 | L38 A15 A9 L40 A14 A7 | L46 A23 A22 L48 A24 A21
extrude "Extrusion6" cut sketch "Sketch8" against normal through all
sketch "Sketch2" plane through (0, 0, 20) normal (0, 0, 1) x (1, 0, 0)
  circle A0 centre (-35.9299, 35.9299) radius 3.0099 construction
  circle A1 centre (-5.93, 35.9299) radius 3.0099 construction
  circle A2 centre (-5.93, 5.93) radius 3.0099 construction
  circle A3 centre (-35.9299, 5.93) radius 3.0099 construction
  circle A4 centre (-35.9299, 35.9299) radius 3.125 construction
  circle A5 centre (-5.93, 35.9299) radius 3.125 construction
  circle A6 centre (-5.93, 5.93) radius 3.125 construction
  circle A7 centre (-35.9299, 5.93) radius 3.125 construction
  line L0 (1.5701, 5.3876) -> (1.5701, 36.4723) projected
  line L1 (-5.3876, 43.4299) -> (-36.4723, 43.4299) projected
  line L2 (-36.4723, 43.4299) -> (-43.4299, 36.4723) projected
  line L3 (-4.8799, 23.9299) -> (-4.8799, 17.9341) projected
  line L4 (-23.9299, 7.8799) -> (-17.9299, 7.8799) projected
  line L5 (-23.9299, 36.9799) -> (-17.9299, 36.9799) projected
  circle A8 centre (-5.93, 5.93) radius 5.1
  circle A9 centre (-5.93, 35.9299) radius 5.1
  point P0 (0, 0)
  point P1 (-20.9299, 20.9299)
  point P2 (1.5701, 20.9299)
  point P3 (-20.9299, 43.4299)
  point P4 (-35.9299, 35.9299)
  point P5 (-38.1396, 38.1396)
  point P6 (-36.7387, 32.9114)
  point P7 (-32.9114, 36.7387)
  point P8 (-5.1211, 32.9114)
  point P9 (-4.0799, 33.1904)
  point P10 (-4.1189, 8.6799)
  point P11 (-9.902, 8.6799)
  dimension "d31" = 6.25
  dimension "d32" = 6.25
  dimension "d33" = 6.25
  dimension "d102" = 6.25
  dimension "d110" = 0.2412
  dimension "d140" = 10.2
  dimension "d141" = 10.2
sketch "Sketch9" plane through (4.1201, 3.9799, 20) normal (1, 0, 0) x (0, 0, -1)
  line L0 (0, 0) -> (10, 0) projected
  line L1 (0, 33.9) -> (10, 33.9) projected
  point P0 (20, -3.9799)
  point P1 (5, 4)
  point P2 (5, 0)
  point P3 (5, 29.9)
  point P4 (5, 33.9)
  dimension "d64" = 4
  dimension "d65" = 4
hole "Hole2" at (4.1201, 7.9799, 15) at (4.1201, 33.8799, 15) direction (-1, 0, 0) diameter 2.9 depth 10 tip angle 118
extrude "Extrusion7" [suppressed]
sketch "Sketch10" plane through (0, 0, 20) normal (0, 0, 1) x (1, 0, 0)
  line L0 (-37.8799, 45.9799) -> (-3.9799, 45.9799) projected
  line L1 (-36.4799, 45.9799) -> (-37.0382, 45.9799)
  line L2 (-42.2344, 3.9799) -> (-45.9799, 3.9799) projected
  line L3 (-45.9799, 3.9799) -> (-42.2344, 3.9799)
  line L4 (-3.9799, 45.9799) -> (-3.9799, 42.2344) projected
  line L5 (-3.9799, 43.9799) -> (-5.9799, 43.9799)
  line L6 (-36.4799, 45.9799) -> (-34.1344, 45.9799)
  line L7 (-3.9799, 43.9799) -> (-3.9799, 45.9799)
  line L8 (-3.9799, -4.1201) -> (-3.9799, -2.1201)
  line L9 (-3.9799, -0.3745) -> (-3.9799, -4.1201) projected
  line L10 (-3.9799, -2.1201) -> (-5.7255, -2.1201)
  line L11 (-34.1344, 45.9799) -> (-28.9151, 45.9799)
  circle A0 centre (-5.93, 5.93) radius 3.0099 projected
  circle A1 centre (-5.93, 35.9299) radius 3.0099 projected
  arc A2 (-0.83, 5.93) -> (-5.9799, 0.8302) centre (-5.93, 5.93) ccw
  arc A3 (-3.9799, 40.6424) -> (-5.9799, 41.0297) centre (-5.93, 35.9299) ccw
  line L12 (-3.9799, 43.9799) -> (-3.9799, 40.6424)
  line L13 (-0.83, 35.9299) -> (-0.83, 24.166)
  line L14 (-3.9799, -0.3745) -> (-3.9799, 1.2175)
  line L15 (-5.9799, -2.171) -> (-5.9799, 0.8302)
  line L16 (-5.9799, 41.0297) -> (-5.9799, 43.9799)
  circle A4 centre (-1.1309, 20.9299) radius 3.25 projected
  circle A5 centre (-1.1309, 20.9299) radius 1.425 projected
  circle A6 centre (-1.1309, 20.9299) radius 3.25 projected
  line L17 (-3.9799, -4.1201) -> (-0.83, -4.1201)
  line L18 (6.2025, -4.1201) -> (6.2025, 45.9799)
  line L19 (6.2025, 45.9799) -> (4.1201, 45.9799)
  circle A7 centre (-5.93, 5.93) radius 3.1599
  circle A8 centre (-5.93, 35.9299) radius 3.1599
  arc A9 (-3.9799, 1.2175) -> (-1.2175, 3.9799) centre (-5.93, 5.93) ccw
  arc A10 (-1.2175, 3.9799) -> (-0.83, 5.93) centre (-5.93, 5.93) ccw
  line L20 (-0.83, 17.6939) -> (-0.83, 5.93)
  line L21 (-0.83, 24.166) -> (-0.83, 17.6939)
  arc A11 (-0.83, 35.9299) -> (-1.2175, 37.8799) centre (-5.93, 35.9299) ccw
  arc A12 (-5.9799, 41.0297) -> (-10.6424, 37.8799) centre (-5.93, 35.9299) ccw
  line L22 (0.3745, 3.9799) -> (-3.9799, -0.3745) projected
  line L23 (-3.9799, -0.3745) -> (-3.9799, -2.1201)
  line L24 (-3.9799, 1.2175) -> (-3.9799, -0.3745)
  line L25 (-5.9799, 41.0297) -> (-5.9799, 43.9799)
  line L26 (-3.9799, 43.9799) -> (-3.9799, 40.6424)
  line L27 (-3.9799, -0.3745) -> (-3.9799, -2.1201)
  arc A13 (-5.9799, 0.8302) -> (-3.9799, 1.2175) centre (-5.93, 5.93) ccw
  line L28 (-5.7255, -2.1201) -> (-5.9799, -2.171)
  arc A14 (-10.6424, 37.8799) -> (-0.83, 35.9299) centre (-5.93, 35.9299) ccw
  arc A15 (-1.2175, 37.8799) -> (-3.9799, 40.6424) centre (-5.93, 35.9299) ccw
  line L29 (-0.83, 45.9799) -> (-3.9799, 45.9799)
  line L30 (-5.9799, 45.9799) -> (-3.9799, 45.9799)
  line L31 (-28.9151, 45.9799) -> (-5.9799, 45.9799)
  line L32 (-37.0382, 45.9799) -> (-37.8799, 45.9799)
  line L33 (-5.9799, -4.1201) -> (-3.9799, -4.1201)
  line L34 (4.1201, 37.8799) -> (4.1201, 3.9799) projected
  line L35 (-3.9799, -4.1201) -> (-37.8799, -4.1201) projected
  line L36 (-5.9799, -4.1201) -> (-7.7255, -4.1201)
  line L37 (-37.8799, -0.3745) -> (-42.2344, 3.9799) projected
  line L38 (-37.8799, -4.1201) -> (-37.8799, -2.1201)
  line L39 (-37.8799, -0.3745) -> (-42.2344, 3.9799)
  line L40 (-42.2344, 3.9799) -> (-45.9799, 3.9799)
  line L41 (-45.9799, 3.9799) -> (-45.9799, 37.8799) projected
  line L42 (-45.9799, 3.9799) -> (-45.9799, 7.7255)
  line L43 (-42.2344, 37.8799) -> (-37.8799, 42.2344) projected
  line L44 (-45.9799, 37.8799) -> (-42.2344, 37.8799)
  line L45 (-42.2344, 37.8799) -> (-37.8799, 42.2344)
  line L46 (-37.8799, 45.9799) -> (-3.9799, 45.9799) projected
  line L47 (-37.8799, 42.2344) -> (-37.8799, 43.9799)
  line L48 (-37.8799, 43.9799) -> (-37.8799, 45.9799)
  line L49 (-45.9799, 34.1344) -> (-45.9799, 37.8799)
  line L50 (-45.9799, 7.7255) -> (-45.9799, 34.1344)
  line L51 (-37.8799, -2.1201) -> (-37.8799, -0.3745)
  line L52 (-34.1344, -4.1201) -> (-37.8799, -4.1201)
  line L53 (-7.7255, -4.1201) -> (-25.1869, -4.1201)
  line L54 (-0.83, -4.1201) -> (6.2025, -4.1201)
  line L55 (4.1201, 45.9799) -> (-0.83, 45.9799)
  line L56 (-5.9799, 43.9799) -> (-28.9151, 43.9799)
  line L57 (-5.9799, -2.171) -> (-28.9151, -2.171)
  circle A16 centre (-40.7289, 20.9299) radius 3.25 projected
  line L58 (-40.4789, 17.6896) -> (-40.4789, 24.1703)
  arc A17 (-40.4789, 17.6896) -> (-37.8799, 7.7697) centre (-15.5098, 18.931) ccw
  arc A18 (-28.9151, 43.9799) -> (-35.5096, 37.8799) centre (-15.5124, 22.8762) ccw
  arc A19 (-37.8799, 7.7697) -> (-35.5463, 3.9799) centre (-15.5098, 18.931) ccw
  arc A20 (-37.8799, 34.0429) -> (-40.4789, 24.1703) centre (-15.5124, 22.8762) ccw
  arc A21 (-28.995, -2.1201) -> (-28.9151, -2.171) centre (-15.5098, 18.931) ccw
  arc A22 (-35.5463, 3.9799) -> (-28.995, -2.1201) centre (-15.5098, 18.931) ccw
  arc A23 (-35.5096, 37.8799) -> (-37.8799, 34.0429) centre (-15.5124, 22.8762) ccw
  line L59 (-25.1869, -4.1201) -> (-34.1344, -4.1201)
  point P0 (0, 0)
  point P1 (-0.83, 24.166)
  dimension "d127" = 2
  dimension "d137" = 10.2
  dimension "d138" = 10.2
  dimension "d139" = 2
  dimension "d142" = 0.15
  dimension "d143" = 0.15
  dimension "d147" = 6.0198
  dimension "d155" = 46.151
  dimension "d157" = 25
  dimension "d158" = 25
extrude "Extrusion8" cut sketch "Sketch10" against normal through all contours L0 L4 L5 L56 A18 A23 A20 A16 A17 A19 A22 A21 L57 L28 L10 L8 L33 L35 L38 L51 L37 L2 L41 L44 L43 L47 L48 | L29 L55 L19 L18 L54 L17 L8 L9 L14 A9 A10 L20 A4 L13 A11 A15 L12 L4 | L4 L12 A3 L16 L5 | L10 L28 L15 A13 L14 L9 | A0 | A1 | A7 | A8
fillet "Fillet1" radius 2 4 edges at (-5.9799, 43.9799, 15) (-5.9799, -2.171, 15) (-28.9151, -2.171, 15) (-28.9151, 43.9799, 15)
equation "\"d42\" = d41"
equation "\"d65\" = d64"
properties part number "20_Cube_Insert_Kinematic_VCAmount_Base_Thorlabs_Cage_smaller"
